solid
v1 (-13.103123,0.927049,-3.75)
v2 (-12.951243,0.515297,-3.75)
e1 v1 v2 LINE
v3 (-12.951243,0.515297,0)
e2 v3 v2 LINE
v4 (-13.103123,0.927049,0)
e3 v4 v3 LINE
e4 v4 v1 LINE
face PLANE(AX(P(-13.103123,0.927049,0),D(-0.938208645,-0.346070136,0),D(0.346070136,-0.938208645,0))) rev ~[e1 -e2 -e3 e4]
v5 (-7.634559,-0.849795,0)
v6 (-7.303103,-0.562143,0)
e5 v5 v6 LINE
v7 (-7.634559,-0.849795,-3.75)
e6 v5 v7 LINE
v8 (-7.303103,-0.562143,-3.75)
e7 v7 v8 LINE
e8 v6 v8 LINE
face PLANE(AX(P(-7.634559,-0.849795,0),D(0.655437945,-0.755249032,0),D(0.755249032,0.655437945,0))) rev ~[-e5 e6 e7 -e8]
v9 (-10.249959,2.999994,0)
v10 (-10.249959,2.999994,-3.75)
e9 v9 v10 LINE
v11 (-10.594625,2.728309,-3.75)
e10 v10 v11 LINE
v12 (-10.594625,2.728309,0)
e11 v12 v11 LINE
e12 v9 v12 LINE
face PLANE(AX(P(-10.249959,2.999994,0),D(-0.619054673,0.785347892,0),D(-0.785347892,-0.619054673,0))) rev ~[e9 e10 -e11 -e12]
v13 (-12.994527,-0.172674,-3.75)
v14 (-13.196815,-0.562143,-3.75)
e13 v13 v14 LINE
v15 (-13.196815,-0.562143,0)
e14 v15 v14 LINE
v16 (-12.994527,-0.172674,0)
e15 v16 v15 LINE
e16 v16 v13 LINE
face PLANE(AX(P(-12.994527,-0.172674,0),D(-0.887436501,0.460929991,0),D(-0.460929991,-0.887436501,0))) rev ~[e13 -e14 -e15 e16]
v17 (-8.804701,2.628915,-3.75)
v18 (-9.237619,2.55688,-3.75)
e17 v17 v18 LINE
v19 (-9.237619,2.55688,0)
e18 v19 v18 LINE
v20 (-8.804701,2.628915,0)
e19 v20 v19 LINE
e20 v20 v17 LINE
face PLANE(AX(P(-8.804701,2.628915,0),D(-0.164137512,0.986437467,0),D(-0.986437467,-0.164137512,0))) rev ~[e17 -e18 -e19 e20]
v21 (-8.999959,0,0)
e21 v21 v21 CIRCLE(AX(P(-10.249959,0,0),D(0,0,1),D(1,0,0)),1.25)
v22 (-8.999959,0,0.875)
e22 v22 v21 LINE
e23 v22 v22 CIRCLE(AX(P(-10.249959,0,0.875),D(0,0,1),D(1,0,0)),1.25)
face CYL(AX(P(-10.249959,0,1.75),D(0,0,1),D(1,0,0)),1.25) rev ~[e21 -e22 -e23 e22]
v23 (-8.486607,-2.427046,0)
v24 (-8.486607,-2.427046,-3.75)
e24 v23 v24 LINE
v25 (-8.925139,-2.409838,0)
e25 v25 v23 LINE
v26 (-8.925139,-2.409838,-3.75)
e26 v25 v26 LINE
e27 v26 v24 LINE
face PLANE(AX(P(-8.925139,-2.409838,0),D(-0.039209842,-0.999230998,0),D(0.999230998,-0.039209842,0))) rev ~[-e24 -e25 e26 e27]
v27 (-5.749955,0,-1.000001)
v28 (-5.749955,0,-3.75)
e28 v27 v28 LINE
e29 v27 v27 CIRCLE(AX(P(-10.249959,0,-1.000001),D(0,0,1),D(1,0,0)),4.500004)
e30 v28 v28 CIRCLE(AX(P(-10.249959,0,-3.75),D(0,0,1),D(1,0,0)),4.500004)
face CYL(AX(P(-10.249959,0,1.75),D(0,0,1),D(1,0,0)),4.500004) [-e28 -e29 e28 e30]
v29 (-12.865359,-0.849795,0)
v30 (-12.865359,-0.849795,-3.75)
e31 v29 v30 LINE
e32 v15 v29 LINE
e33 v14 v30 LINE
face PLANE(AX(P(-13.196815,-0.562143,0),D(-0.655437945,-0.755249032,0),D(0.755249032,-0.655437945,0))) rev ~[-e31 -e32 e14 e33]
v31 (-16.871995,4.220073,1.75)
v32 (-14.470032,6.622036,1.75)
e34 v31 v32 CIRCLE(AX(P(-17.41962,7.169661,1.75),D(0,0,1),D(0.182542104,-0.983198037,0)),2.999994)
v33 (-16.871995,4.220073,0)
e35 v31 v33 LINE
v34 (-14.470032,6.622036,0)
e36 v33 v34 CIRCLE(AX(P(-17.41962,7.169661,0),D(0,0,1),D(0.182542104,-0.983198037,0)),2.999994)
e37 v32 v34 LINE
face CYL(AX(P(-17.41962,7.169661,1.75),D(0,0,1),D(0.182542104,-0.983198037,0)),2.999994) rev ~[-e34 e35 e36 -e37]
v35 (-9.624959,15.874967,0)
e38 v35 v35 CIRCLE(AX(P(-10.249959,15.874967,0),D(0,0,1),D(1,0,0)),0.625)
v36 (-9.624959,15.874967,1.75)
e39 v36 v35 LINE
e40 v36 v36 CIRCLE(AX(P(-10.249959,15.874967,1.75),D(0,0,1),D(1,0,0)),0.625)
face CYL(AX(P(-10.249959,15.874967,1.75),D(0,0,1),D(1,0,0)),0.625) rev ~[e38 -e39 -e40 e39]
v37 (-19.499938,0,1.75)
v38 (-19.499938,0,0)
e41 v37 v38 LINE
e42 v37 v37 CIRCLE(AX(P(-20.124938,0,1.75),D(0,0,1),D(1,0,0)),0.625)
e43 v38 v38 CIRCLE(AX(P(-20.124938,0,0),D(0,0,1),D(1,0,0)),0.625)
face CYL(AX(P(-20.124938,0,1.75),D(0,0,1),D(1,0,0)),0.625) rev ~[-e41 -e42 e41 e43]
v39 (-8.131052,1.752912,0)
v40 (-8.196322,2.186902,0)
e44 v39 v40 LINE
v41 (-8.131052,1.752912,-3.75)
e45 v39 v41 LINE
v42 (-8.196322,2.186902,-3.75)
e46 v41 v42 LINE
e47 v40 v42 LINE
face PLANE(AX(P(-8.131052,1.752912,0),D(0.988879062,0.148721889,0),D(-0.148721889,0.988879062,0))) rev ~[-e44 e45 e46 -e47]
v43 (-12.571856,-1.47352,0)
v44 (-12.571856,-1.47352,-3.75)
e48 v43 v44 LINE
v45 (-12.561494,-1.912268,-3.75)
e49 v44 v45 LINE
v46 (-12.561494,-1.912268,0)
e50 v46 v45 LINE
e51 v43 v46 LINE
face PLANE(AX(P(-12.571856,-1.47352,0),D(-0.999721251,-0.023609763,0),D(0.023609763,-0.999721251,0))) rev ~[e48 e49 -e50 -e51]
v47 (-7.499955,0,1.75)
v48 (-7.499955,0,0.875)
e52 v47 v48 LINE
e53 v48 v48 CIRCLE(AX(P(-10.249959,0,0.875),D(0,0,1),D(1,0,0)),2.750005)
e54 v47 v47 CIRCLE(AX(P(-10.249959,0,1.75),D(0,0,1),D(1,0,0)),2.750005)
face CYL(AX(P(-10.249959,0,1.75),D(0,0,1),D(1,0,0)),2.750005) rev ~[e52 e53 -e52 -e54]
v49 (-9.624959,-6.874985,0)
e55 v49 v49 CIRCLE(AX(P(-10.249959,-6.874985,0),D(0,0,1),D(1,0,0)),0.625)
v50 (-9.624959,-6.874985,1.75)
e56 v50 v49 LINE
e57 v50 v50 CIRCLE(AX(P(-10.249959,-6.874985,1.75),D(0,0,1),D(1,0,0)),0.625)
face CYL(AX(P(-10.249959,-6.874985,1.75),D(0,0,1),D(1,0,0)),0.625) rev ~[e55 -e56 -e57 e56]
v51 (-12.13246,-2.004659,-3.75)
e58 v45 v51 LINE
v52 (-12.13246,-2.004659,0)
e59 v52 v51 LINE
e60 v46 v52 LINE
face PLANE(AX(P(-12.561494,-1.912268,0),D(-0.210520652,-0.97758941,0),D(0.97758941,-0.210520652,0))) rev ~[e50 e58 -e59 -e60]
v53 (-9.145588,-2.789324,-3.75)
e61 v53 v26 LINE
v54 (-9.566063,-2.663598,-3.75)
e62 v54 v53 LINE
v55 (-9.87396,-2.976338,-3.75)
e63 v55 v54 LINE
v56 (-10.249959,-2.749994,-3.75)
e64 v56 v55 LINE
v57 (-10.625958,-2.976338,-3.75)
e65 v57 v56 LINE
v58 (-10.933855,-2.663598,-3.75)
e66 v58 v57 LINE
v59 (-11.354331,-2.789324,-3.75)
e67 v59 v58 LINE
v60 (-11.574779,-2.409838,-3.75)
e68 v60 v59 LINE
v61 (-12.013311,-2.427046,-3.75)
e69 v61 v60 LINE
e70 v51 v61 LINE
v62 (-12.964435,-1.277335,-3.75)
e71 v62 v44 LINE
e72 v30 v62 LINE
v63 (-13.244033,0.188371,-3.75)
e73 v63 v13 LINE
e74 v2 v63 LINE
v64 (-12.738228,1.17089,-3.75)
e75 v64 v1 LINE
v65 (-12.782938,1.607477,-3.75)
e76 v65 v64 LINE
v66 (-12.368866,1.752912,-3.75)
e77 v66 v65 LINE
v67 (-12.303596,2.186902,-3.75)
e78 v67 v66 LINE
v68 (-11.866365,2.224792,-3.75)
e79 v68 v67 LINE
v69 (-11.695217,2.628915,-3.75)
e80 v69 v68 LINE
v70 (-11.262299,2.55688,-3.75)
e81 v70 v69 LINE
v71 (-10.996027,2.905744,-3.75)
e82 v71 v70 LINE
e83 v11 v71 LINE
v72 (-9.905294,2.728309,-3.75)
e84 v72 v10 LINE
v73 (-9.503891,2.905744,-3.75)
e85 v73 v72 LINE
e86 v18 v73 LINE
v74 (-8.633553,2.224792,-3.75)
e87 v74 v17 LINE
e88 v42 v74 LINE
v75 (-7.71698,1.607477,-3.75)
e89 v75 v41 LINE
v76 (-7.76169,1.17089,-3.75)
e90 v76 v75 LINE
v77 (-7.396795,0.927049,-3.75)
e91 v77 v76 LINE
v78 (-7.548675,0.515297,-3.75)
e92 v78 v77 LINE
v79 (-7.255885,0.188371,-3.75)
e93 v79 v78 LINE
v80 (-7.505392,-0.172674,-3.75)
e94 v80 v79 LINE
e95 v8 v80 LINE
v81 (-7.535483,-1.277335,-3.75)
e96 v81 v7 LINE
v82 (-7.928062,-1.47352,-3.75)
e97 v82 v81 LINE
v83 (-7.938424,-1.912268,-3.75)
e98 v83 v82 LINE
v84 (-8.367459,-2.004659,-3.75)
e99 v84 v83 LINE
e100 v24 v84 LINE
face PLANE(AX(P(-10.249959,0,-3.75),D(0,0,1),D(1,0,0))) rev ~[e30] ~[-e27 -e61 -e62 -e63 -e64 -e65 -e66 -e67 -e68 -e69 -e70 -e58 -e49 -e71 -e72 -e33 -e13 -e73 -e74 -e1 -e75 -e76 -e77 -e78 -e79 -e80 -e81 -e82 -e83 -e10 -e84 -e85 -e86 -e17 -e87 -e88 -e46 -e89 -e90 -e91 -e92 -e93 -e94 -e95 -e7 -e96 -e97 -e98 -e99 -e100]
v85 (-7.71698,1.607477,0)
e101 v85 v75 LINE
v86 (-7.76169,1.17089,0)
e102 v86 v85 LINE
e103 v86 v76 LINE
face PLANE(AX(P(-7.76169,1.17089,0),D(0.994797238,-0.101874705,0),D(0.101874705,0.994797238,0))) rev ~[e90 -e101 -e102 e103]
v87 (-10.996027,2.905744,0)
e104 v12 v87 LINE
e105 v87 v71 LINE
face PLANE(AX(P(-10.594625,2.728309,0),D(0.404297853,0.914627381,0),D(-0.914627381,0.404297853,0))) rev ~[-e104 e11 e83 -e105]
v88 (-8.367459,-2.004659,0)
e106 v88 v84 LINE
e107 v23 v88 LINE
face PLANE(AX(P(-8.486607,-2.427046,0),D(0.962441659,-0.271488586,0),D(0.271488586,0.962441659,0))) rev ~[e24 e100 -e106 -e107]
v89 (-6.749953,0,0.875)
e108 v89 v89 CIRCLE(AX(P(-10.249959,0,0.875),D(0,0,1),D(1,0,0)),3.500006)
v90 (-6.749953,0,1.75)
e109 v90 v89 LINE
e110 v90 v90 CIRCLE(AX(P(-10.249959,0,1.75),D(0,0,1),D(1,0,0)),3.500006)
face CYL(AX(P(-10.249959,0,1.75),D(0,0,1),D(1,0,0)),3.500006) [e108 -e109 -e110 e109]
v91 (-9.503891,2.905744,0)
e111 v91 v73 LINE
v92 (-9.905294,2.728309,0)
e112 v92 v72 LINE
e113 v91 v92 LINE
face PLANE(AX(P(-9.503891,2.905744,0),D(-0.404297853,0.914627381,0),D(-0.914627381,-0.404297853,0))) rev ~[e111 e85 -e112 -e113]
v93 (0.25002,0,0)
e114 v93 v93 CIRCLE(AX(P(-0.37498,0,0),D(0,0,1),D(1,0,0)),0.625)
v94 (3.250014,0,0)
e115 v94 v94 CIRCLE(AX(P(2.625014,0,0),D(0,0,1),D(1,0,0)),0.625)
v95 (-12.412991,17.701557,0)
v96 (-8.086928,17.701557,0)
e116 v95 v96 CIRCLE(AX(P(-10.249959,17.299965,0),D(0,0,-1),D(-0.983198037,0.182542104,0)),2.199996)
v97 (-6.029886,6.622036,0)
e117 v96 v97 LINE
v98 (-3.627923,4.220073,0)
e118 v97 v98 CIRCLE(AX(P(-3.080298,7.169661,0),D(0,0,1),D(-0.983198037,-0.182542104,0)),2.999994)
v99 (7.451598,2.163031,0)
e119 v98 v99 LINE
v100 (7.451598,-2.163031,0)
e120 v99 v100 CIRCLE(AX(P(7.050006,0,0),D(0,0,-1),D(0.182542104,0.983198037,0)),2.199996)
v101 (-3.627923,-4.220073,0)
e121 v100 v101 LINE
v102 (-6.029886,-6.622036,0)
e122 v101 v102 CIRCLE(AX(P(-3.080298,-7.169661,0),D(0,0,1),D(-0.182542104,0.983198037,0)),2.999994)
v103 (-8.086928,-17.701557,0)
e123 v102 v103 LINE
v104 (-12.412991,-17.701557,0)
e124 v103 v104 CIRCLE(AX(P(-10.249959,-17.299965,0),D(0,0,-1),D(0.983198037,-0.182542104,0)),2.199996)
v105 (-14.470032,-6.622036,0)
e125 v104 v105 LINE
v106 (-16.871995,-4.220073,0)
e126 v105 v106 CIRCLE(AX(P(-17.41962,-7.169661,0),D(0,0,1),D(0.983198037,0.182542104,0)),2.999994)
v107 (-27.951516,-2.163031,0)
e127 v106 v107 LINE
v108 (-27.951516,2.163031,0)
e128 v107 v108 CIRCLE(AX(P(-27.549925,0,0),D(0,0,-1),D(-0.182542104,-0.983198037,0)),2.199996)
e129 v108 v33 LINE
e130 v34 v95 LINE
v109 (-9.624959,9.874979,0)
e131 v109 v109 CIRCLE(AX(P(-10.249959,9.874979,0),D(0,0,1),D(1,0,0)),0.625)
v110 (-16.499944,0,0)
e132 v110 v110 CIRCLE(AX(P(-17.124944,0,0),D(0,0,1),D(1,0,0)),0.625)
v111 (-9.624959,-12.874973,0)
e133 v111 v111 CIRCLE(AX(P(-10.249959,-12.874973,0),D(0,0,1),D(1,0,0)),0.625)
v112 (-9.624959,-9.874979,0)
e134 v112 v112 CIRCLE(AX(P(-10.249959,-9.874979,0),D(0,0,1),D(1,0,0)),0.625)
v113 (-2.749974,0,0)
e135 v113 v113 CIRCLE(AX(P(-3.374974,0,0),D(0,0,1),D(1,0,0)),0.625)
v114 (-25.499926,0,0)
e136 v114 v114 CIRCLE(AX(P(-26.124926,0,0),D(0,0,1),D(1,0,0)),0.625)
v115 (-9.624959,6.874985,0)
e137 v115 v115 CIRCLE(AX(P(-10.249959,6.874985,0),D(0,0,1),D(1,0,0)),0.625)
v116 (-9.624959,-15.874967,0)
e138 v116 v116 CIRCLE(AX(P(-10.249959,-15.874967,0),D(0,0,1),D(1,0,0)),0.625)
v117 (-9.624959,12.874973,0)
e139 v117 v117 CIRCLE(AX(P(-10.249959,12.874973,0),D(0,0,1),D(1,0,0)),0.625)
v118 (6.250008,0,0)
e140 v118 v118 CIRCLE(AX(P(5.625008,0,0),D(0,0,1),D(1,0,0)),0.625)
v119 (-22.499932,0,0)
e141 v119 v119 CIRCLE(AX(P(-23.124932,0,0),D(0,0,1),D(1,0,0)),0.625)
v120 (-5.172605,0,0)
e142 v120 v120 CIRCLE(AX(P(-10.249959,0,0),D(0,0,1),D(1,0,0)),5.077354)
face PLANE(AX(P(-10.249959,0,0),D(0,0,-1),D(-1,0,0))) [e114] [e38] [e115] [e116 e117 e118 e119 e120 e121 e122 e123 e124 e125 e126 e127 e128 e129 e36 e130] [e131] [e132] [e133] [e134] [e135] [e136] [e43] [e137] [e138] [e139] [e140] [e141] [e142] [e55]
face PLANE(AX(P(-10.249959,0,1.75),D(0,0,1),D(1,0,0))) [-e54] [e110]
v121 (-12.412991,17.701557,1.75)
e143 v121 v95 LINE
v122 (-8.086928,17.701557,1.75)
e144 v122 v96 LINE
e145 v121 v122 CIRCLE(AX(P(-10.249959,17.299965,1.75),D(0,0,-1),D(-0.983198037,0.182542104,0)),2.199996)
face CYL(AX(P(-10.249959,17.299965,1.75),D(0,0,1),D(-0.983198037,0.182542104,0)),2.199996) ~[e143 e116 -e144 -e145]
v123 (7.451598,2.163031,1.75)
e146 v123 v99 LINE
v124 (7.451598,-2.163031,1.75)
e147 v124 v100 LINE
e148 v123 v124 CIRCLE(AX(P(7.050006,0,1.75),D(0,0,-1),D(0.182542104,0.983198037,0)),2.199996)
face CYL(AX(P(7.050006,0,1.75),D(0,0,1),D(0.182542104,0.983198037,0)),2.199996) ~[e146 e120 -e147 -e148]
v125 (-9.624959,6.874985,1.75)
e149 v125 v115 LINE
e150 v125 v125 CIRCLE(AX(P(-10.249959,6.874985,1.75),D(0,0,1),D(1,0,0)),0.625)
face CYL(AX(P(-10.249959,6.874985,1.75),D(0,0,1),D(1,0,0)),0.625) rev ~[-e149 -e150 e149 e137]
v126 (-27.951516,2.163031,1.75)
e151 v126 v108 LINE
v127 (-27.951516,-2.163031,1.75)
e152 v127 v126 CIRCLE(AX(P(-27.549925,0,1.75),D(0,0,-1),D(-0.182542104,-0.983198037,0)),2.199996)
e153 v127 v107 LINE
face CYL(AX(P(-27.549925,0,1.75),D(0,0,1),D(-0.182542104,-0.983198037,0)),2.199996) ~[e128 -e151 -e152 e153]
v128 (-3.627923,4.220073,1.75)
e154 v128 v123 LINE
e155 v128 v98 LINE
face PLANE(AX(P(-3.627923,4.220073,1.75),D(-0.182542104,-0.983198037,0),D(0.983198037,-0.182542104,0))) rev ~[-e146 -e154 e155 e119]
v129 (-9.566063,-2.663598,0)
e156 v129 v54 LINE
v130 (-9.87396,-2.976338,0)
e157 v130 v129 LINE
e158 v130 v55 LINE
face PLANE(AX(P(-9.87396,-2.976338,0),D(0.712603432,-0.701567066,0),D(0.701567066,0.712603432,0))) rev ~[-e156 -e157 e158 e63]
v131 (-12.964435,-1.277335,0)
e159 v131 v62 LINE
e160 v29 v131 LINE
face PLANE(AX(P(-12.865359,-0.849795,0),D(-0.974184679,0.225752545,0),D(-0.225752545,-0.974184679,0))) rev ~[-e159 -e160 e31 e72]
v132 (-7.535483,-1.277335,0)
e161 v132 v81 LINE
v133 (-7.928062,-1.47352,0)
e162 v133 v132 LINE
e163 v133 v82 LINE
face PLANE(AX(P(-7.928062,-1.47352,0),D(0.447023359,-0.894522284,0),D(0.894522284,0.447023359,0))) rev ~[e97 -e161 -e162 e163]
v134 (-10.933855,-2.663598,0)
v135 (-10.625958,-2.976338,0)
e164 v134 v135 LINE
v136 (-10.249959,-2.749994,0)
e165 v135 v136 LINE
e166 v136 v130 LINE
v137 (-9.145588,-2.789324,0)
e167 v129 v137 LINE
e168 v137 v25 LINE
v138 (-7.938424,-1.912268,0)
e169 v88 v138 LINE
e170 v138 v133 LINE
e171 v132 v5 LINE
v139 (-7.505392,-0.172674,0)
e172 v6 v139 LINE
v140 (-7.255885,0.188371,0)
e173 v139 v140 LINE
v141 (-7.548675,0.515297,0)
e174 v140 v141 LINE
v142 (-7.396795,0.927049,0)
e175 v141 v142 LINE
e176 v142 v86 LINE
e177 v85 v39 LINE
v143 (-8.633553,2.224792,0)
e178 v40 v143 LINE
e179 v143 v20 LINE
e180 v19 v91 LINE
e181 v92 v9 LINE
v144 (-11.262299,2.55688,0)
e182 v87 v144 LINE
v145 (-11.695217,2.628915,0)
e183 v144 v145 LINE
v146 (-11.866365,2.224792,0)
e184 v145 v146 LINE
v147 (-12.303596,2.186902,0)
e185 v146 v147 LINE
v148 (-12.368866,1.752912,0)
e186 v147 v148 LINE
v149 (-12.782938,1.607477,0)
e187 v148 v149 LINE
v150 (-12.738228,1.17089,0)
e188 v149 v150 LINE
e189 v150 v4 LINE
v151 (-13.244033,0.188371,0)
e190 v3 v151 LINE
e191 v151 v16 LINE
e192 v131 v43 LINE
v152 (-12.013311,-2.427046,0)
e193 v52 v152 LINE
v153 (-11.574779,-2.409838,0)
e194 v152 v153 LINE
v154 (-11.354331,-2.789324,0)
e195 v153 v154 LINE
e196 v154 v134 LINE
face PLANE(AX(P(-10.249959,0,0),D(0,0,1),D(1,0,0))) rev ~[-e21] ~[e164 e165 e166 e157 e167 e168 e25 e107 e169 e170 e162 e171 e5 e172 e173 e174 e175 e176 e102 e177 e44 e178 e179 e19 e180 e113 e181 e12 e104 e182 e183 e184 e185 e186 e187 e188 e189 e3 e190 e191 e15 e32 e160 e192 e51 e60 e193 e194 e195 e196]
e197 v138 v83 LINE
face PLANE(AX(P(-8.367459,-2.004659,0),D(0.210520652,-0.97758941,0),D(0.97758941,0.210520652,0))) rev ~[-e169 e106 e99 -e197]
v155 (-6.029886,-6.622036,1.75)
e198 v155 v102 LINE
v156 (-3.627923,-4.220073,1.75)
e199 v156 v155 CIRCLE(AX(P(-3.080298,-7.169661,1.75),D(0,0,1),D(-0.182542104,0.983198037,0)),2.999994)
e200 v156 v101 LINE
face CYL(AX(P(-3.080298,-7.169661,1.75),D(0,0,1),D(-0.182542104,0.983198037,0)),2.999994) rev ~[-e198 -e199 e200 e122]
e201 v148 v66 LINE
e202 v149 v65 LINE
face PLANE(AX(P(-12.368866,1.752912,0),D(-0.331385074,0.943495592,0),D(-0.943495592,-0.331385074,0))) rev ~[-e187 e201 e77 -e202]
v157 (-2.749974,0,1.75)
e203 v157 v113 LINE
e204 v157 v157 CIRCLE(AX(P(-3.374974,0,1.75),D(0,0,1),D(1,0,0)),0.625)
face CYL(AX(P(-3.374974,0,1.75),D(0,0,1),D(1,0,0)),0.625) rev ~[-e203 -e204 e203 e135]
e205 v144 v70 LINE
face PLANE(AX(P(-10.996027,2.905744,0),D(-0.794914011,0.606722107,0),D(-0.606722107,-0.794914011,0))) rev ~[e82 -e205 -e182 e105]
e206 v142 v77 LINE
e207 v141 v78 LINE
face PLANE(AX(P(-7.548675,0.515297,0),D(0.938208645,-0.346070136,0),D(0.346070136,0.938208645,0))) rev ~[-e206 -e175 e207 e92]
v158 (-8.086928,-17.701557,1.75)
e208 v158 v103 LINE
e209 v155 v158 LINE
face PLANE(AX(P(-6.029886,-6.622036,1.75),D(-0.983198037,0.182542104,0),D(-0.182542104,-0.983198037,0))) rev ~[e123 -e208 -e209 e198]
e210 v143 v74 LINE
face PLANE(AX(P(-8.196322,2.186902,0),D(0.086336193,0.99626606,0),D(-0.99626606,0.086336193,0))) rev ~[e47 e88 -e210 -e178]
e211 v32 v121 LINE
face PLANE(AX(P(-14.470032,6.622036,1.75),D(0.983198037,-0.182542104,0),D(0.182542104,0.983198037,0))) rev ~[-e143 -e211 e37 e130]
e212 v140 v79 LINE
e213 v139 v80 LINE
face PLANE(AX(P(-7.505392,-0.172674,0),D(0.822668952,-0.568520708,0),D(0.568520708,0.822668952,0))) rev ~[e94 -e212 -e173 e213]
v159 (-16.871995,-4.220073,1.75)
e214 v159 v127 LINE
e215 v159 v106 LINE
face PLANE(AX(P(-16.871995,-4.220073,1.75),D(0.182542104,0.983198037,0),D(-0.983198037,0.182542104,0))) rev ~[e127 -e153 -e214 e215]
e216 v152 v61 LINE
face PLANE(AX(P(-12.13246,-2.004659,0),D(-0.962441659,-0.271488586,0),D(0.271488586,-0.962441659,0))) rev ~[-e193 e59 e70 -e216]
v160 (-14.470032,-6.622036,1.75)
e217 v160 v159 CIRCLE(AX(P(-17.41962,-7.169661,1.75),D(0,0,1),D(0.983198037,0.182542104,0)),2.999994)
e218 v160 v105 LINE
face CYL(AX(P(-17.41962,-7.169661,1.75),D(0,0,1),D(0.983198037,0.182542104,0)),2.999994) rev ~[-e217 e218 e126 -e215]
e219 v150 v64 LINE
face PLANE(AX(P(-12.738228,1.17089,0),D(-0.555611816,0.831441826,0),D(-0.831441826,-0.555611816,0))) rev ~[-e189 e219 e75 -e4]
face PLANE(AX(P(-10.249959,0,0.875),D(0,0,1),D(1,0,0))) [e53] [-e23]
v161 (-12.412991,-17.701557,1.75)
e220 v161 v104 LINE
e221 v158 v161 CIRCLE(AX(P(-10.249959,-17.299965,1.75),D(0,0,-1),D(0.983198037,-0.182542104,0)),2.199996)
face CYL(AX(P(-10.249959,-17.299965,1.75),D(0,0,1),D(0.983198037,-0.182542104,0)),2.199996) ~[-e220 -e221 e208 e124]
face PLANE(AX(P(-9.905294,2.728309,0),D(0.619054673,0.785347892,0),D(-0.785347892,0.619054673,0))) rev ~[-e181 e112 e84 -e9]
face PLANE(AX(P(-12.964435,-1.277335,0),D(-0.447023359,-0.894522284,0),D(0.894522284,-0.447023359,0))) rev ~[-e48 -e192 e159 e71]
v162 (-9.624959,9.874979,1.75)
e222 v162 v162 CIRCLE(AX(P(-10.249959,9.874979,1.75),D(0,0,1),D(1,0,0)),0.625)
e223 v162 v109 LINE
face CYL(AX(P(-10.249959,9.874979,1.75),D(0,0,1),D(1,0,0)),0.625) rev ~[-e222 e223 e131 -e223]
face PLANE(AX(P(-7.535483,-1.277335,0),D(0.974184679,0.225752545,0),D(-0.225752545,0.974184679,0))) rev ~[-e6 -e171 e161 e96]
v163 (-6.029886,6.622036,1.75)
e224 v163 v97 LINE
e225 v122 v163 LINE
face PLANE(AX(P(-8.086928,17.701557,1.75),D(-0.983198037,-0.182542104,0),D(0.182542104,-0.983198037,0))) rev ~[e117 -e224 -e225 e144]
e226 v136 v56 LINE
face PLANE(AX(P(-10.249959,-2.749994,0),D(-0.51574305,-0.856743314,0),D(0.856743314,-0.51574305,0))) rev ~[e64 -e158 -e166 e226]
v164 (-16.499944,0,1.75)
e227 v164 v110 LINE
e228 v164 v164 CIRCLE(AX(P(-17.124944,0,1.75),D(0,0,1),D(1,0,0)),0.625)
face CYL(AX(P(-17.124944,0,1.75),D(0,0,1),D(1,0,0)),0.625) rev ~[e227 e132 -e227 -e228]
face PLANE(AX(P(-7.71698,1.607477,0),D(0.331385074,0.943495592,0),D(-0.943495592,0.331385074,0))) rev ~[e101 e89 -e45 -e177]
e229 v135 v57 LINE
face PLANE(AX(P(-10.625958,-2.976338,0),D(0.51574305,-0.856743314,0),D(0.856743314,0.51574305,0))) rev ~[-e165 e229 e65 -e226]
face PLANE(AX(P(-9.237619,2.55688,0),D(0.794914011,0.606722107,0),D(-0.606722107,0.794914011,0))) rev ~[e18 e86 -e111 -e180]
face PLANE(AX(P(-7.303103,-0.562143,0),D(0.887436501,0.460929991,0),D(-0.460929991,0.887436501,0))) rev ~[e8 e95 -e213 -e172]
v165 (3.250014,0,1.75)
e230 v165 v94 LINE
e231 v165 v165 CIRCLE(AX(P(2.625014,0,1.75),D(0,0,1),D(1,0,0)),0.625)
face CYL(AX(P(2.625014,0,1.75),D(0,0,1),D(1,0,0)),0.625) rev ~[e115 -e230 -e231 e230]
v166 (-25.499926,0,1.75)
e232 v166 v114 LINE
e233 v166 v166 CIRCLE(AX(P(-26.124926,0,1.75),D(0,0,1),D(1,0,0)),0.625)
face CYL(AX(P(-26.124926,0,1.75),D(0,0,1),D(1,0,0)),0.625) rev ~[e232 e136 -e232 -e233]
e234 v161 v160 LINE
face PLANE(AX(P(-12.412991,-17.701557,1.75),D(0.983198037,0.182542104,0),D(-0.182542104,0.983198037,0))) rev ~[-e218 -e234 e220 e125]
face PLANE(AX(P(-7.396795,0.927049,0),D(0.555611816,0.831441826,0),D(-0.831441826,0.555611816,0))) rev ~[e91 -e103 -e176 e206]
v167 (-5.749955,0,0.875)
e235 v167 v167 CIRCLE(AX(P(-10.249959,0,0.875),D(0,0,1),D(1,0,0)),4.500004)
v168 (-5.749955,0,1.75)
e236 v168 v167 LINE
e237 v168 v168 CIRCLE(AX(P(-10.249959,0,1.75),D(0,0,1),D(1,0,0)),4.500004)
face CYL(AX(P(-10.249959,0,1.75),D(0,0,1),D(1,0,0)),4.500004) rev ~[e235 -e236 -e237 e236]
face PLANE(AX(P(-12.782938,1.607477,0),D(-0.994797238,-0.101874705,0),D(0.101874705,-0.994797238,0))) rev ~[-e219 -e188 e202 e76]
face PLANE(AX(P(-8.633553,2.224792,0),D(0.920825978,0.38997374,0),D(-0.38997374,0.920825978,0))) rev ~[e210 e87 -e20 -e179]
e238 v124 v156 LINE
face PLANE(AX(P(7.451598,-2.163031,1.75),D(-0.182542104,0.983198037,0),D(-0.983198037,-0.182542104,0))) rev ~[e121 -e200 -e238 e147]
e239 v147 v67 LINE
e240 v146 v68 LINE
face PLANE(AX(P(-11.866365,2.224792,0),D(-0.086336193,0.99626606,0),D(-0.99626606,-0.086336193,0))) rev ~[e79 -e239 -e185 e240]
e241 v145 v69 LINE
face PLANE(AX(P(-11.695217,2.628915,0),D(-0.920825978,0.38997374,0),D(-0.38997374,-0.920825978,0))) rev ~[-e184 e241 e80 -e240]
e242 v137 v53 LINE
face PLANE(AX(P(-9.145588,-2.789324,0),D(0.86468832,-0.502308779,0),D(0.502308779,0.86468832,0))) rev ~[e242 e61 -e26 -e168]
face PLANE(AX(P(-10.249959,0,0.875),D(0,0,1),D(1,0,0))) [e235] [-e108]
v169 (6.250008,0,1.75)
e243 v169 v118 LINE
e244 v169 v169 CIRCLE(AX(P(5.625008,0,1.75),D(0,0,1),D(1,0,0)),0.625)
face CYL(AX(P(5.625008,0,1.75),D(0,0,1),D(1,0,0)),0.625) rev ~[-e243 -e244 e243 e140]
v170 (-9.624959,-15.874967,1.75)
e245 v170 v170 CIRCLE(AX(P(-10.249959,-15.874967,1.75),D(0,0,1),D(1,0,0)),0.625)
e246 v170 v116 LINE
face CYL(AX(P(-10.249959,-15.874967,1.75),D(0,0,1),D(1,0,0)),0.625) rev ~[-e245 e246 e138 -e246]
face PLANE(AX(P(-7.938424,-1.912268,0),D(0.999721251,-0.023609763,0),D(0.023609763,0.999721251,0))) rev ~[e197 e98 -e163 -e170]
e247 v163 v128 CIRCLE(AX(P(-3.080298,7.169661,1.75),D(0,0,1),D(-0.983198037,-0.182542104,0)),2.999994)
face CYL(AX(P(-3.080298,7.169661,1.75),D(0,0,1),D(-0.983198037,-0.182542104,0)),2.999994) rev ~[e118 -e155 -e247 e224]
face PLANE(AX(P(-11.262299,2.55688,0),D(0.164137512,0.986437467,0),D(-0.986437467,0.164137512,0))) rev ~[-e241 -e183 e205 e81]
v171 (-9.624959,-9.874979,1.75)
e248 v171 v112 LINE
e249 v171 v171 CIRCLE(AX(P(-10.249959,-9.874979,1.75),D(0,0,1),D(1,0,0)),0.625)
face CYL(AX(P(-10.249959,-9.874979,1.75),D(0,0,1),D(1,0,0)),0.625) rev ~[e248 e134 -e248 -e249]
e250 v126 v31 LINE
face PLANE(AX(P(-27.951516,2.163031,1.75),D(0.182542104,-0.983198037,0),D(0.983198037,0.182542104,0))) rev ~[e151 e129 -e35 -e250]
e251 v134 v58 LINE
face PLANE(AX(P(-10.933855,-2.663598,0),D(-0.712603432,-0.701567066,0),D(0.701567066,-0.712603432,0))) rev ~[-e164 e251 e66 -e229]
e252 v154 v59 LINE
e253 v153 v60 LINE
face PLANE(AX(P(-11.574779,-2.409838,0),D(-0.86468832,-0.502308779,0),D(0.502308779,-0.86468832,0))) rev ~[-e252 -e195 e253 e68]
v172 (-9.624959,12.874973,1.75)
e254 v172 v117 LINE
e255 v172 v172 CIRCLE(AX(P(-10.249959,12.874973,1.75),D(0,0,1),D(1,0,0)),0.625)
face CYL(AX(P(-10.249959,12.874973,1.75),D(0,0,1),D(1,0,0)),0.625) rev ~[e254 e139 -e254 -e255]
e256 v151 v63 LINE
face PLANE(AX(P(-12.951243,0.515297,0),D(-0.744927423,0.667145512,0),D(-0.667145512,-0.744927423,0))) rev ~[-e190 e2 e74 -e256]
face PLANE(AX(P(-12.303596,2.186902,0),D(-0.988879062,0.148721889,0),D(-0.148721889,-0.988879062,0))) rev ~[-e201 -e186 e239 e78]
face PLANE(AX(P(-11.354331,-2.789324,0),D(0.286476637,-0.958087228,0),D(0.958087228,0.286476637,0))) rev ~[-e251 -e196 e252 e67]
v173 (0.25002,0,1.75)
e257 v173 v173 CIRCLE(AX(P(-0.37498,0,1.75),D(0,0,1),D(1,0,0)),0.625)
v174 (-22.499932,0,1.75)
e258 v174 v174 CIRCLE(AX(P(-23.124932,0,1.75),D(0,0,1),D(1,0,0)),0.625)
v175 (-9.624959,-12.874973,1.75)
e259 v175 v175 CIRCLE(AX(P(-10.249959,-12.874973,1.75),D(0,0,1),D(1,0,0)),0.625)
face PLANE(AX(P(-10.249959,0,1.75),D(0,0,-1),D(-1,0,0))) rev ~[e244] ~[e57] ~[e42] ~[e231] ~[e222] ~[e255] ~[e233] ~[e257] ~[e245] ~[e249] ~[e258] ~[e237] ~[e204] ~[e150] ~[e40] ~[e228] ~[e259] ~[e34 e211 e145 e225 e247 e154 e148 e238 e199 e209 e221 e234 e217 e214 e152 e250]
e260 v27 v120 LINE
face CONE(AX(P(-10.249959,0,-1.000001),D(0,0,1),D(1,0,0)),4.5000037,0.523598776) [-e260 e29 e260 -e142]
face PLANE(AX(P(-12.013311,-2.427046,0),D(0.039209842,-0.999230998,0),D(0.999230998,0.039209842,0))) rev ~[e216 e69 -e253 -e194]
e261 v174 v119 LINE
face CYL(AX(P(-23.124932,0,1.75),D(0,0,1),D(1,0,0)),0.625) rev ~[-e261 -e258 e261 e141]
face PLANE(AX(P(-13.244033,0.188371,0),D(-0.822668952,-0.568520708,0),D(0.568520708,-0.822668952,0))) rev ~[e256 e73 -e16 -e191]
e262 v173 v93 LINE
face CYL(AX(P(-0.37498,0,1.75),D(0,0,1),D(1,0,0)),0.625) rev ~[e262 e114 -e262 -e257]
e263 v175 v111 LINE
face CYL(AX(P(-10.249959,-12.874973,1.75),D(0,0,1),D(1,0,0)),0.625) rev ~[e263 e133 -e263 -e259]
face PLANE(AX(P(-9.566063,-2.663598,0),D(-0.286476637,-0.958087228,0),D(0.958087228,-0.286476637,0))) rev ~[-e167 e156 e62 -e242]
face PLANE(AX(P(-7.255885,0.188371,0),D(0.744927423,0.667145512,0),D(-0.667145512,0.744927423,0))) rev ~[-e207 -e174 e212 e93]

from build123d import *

# Parameters (mm, degrees)
SKETCH1_R           = 4.5000037
BOSS_EXTRUDE1_DEPTH = 3.75000012
BOSS_EXTRUDE2_START = 1.750000056
SKETCH2_R           = 4.5000037
SKETCH2_R_2         = 3.499999998
SKETCH2_R_3         = 1.25000004
BOSS_EXTRUDE2_DEPTH = 1.750000056
SKETCH4_R           = 2.75000466
SKETCH4_R_2         = 1.25000004
CUT_EXTRUDE1_DEPTH  = 0.875000028
SKETCH6_R           = 4.5000037
SKETCH6_R_2         = 3.5000057
CUT_EXTRUDE2_DEPTH  = 0.875000028
SKETCH10_R          = 0.62500002
SKETCH10_R_2        = 4.5000037
BOSS_EXTRUDE4_DEPTH = 1.750000056
CHAMFER2_SIZE       = 1.00000054
CHAMFER2_SIZE2      = 0.577350581


with BuildPart() as part:
    # Sketch1 → Boss-Extrude1 (new body)
    with BuildSketch(Plane.XY):
        with Locations((-10.24995918, 0)):
            Circle(SKETCH1_R)
        Polygon((-10.24995918, 2.999994), (-10.594624819, 2.728309468), (-10.996027349, 2.905743672), (-11.262299488, 2.55687975), (-11.695217312, 2.628914782), (-11.866365092, 2.224791874), (-12.303596391, 2.186901508), (-12.368865968, 1.752912142), (-12.782937891, 1.60747717), (-12.738228138, 1.170890494), (-13.103123023, 0.927049129), (-12.951243218, 0.515297489), (-13.244033377, 0.188371182), (-12.994526687, -0.172673551), (-13.196815038, -0.562142819), (-12.865358886, -0.849794878), (-12.964434908, -1.27733532), (-12.571855902, -1.473520467), (-12.561494285, -1.912268145), (-12.132459609, -2.004659346), (-12.01331141, -2.427046129), (-11.574778889, -2.409838105), (-11.354330629, -2.789323879), (-10.933854876, -2.663597874), (-10.625958129, -2.976338151), (-10.24995918, -2.749993992), (-9.873960231, -2.976338151), (-9.566063484, -2.663597874), (-9.145587731, -2.789323879), (-8.925139471, -2.409838105), (-8.48660695, -2.427046129), (-8.367458751, -2.004659346), (-7.938424075, -1.912268145), (-7.928062458, -1.473520467), (-7.535483452, -1.27733532), (-7.634559474, -0.849794878), (-7.303103322, -0.562142819), (-7.505391673, -0.172673551), (-7.255884983, 0.188371182), (-7.548675142, 0.515297489), (-7.396795337, 0.927049129), (-7.761690222, 1.170890494), (-7.716980469, 1.60747717), (-8.131052392, 1.752912142), (-8.196321969, 2.186901508), (-8.633553268, 2.224791874), (-8.804701048, 2.628914782), (-9.237618872, 2.55687975), (-9.503891011, 2.905743672), (-9.905293541, 2.728309468), align=None, mode=Mode.SUBTRACT)
    extrude(amount=-BOSS_EXTRUDE1_DEPTH)

    # Sketch2 → Boss-Extrude2 (add)
    # profile 1 of 2: a face of its own
    with BuildSketch(Plane.XY.offset(BOSS_EXTRUDE2_START)):
        with Locations((-10.24995918, 0)):
            Circle(SKETCH2_R)
        with Locations((-10.24995918, 0)):
            Circle(SKETCH2_R_2, mode=Mode.SUBTRACT)
    # profile 2 of 2: a face of its own
    with BuildSketch(Plane.XY.offset(BOSS_EXTRUDE2_START)):
        with Locations((-10.24995918, 0)):
            Circle(SKETCH2_R_2)
        with Locations((-10.24995918, 0)):
            Circle(SKETCH2_R_3, mode=Mode.SUBTRACT)
    extrude(amount=-BOSS_EXTRUDE2_DEPTH)

    # Sketch4 → Cut-Extrude1 (cut)
    with BuildSketch(Plane.XY.offset(1.750000056)):
        with Locations((-10.24995918, 0)):
            Circle(SKETCH4_R)
        with Locations((-10.24995918, 0)):
            Circle(SKETCH4_R_2, mode=Mode.SUBTRACT)
    extrude(amount=-CUT_EXTRUDE1_DEPTH, mode=Mode.SUBTRACT)

    # Sketch6 → Cut-Extrude2 (cut)
    with BuildSketch(Plane.XY.offset(1.750000056)):
        with Locations((-10.24995918, 0)):
            Circle(SKETCH6_R)
        with Locations((-10.24995918, 0)):
            Circle(SKETCH6_R_2, mode=Mode.SUBTRACT)
    extrude(amount=-CUT_EXTRUDE2_DEPTH, mode=Mode.SUBTRACT)

    # Sketch10 → Boss-Extrude4 (add)
    with BuildSketch(Plane.XY.offset(1.750000056)):
        with BuildLine():
            Line((-8.086927824, 17.701557226), (-6.029886341, 6.622035833))
            ThreePointArc((-6.029886341, 6.622035833), (-5.20161423, 5.04834495), (-3.627923347, 4.220072839))
            Line((-3.627923347, 4.220072839), (7.451598046, 2.163031356))
            ThreePointArc((7.451598046, 2.163031356), (9.25000182, 0), (7.451598046, -2.163031356))
            Line((7.451598046, -2.163031356), (-3.627923347, -4.220072839))
            ThreePointArc((-3.627923347, -4.220072839), (-5.20161423, -5.04834495), (-6.029886341, -6.622035833))
            Line((-6.029886341, -6.622035833), (-8.086927824, -17.701557226))
            ThreePointArc((-8.086927824, -17.701557226), (-10.24995918, -19.499961), (-12.412990536, -17.701557226))
            Line((-12.412990536, -17.701557226), (-14.470032019, -6.622035833))
            ThreePointArc((-14.470032019, -6.622035833), (-15.29830413, -5.04834495), (-16.871995013, -4.220072839))
            Line((-16.871995013, -4.220072839), (-27.951516406, -2.163031356))
            ThreePointArc((-27.951516406, -2.163031356), (-29.74992018, 0), (-27.951516406, 2.163031356))
            Line((-27.951516406, 2.163031356), (-16.871995013, 4.220072839))
            ThreePointArc((-16.871995013, 4.220072839), (-15.29830413, 5.04834495), (-14.470032019, 6.622035833))
            Line((-14.470032019, 6.622035833), (-12.412990536, 17.701557226))
            ThreePointArc((-12.412990536, 17.701557226), (-10.24995918, 19.499961), (-8.086927824, 17.701557226))
        make_face()
        with Locations((-10.24995918, 15.87496698)):
            Circle(SKETCH10_R, mode=Mode.SUBTRACT)
        with Locations((-10.24995918, 12.87497298)):
            Circle(SKETCH10_R, mode=Mode.SUBTRACT)
        with Locations((-10.24995918, 9.87497898)):
            Circle(SKETCH10_R, mode=Mode.SUBTRACT)
        with Locations((-10.24995918, 6.87498498)):
            Circle(SKETCH10_R, mode=Mode.SUBTRACT)
        with Locations((5.6250078, 0)):
            Circle(SKETCH10_R, mode=Mode.SUBTRACT)
        with Locations((2.6250138, 0)):
            Circle(SKETCH10_R, mode=Mode.SUBTRACT)
        with Locations((-0.3749802, 0)):
            Circle(SKETCH10_R, mode=Mode.SUBTRACT)
        with Locations((-3.3749742, 0)):
            Circle(SKETCH10_R, mode=Mode.SUBTRACT)
        with Locations((-10.24995918, -15.87496698)):
            Circle(SKETCH10_R, mode=Mode.SUBTRACT)
        with Locations((-10.24995918, -12.87497298)):
            Circle(SKETCH10_R, mode=Mode.SUBTRACT)
        with Locations((-10.24995918, -9.87497898)):
            Circle(SKETCH10_R, mode=Mode.SUBTRACT)
        with Locations((-10.24995918, -6.87498498)):
            Circle(SKETCH10_R, mode=Mode.SUBTRACT)
        with Locations((-26.12492616, 0)):
            Circle(SKETCH10_R, mode=Mode.SUBTRACT)
        with Locations((-23.12493216, 0)):
            Circle(SKETCH10_R, mode=Mode.SUBTRACT)
        with Locations((-20.12493816, 0)):
            Circle(SKETCH10_R, mode=Mode.SUBTRACT)
        with Locations((-17.12494416, 0)):
            Circle(SKETCH10_R, mode=Mode.SUBTRACT)
        with Locations((-10.24995918, 0)):
            Circle(SKETCH10_R_2, mode=Mode.SUBTRACT)
    extrude(amount=-BOSS_EXTRUDE4_DEPTH)

    # Chamfer2
    chamfer2_edges = [part.edges().sort_by_distance(p)[0] for p in [
        (-14.74996288, 0, 0),
    ]]
    chamfer2_side = [part.faces().sort_by_distance(p)[0] for p in [
        (-14.74996288, 0, -1.87500006),
    ]]
    chamfer(chamfer2_edges, length=CHAMFER2_SIZE, length2=CHAMFER2_SIZE2, reference=chamfer2_side[0])


solid = part.part
